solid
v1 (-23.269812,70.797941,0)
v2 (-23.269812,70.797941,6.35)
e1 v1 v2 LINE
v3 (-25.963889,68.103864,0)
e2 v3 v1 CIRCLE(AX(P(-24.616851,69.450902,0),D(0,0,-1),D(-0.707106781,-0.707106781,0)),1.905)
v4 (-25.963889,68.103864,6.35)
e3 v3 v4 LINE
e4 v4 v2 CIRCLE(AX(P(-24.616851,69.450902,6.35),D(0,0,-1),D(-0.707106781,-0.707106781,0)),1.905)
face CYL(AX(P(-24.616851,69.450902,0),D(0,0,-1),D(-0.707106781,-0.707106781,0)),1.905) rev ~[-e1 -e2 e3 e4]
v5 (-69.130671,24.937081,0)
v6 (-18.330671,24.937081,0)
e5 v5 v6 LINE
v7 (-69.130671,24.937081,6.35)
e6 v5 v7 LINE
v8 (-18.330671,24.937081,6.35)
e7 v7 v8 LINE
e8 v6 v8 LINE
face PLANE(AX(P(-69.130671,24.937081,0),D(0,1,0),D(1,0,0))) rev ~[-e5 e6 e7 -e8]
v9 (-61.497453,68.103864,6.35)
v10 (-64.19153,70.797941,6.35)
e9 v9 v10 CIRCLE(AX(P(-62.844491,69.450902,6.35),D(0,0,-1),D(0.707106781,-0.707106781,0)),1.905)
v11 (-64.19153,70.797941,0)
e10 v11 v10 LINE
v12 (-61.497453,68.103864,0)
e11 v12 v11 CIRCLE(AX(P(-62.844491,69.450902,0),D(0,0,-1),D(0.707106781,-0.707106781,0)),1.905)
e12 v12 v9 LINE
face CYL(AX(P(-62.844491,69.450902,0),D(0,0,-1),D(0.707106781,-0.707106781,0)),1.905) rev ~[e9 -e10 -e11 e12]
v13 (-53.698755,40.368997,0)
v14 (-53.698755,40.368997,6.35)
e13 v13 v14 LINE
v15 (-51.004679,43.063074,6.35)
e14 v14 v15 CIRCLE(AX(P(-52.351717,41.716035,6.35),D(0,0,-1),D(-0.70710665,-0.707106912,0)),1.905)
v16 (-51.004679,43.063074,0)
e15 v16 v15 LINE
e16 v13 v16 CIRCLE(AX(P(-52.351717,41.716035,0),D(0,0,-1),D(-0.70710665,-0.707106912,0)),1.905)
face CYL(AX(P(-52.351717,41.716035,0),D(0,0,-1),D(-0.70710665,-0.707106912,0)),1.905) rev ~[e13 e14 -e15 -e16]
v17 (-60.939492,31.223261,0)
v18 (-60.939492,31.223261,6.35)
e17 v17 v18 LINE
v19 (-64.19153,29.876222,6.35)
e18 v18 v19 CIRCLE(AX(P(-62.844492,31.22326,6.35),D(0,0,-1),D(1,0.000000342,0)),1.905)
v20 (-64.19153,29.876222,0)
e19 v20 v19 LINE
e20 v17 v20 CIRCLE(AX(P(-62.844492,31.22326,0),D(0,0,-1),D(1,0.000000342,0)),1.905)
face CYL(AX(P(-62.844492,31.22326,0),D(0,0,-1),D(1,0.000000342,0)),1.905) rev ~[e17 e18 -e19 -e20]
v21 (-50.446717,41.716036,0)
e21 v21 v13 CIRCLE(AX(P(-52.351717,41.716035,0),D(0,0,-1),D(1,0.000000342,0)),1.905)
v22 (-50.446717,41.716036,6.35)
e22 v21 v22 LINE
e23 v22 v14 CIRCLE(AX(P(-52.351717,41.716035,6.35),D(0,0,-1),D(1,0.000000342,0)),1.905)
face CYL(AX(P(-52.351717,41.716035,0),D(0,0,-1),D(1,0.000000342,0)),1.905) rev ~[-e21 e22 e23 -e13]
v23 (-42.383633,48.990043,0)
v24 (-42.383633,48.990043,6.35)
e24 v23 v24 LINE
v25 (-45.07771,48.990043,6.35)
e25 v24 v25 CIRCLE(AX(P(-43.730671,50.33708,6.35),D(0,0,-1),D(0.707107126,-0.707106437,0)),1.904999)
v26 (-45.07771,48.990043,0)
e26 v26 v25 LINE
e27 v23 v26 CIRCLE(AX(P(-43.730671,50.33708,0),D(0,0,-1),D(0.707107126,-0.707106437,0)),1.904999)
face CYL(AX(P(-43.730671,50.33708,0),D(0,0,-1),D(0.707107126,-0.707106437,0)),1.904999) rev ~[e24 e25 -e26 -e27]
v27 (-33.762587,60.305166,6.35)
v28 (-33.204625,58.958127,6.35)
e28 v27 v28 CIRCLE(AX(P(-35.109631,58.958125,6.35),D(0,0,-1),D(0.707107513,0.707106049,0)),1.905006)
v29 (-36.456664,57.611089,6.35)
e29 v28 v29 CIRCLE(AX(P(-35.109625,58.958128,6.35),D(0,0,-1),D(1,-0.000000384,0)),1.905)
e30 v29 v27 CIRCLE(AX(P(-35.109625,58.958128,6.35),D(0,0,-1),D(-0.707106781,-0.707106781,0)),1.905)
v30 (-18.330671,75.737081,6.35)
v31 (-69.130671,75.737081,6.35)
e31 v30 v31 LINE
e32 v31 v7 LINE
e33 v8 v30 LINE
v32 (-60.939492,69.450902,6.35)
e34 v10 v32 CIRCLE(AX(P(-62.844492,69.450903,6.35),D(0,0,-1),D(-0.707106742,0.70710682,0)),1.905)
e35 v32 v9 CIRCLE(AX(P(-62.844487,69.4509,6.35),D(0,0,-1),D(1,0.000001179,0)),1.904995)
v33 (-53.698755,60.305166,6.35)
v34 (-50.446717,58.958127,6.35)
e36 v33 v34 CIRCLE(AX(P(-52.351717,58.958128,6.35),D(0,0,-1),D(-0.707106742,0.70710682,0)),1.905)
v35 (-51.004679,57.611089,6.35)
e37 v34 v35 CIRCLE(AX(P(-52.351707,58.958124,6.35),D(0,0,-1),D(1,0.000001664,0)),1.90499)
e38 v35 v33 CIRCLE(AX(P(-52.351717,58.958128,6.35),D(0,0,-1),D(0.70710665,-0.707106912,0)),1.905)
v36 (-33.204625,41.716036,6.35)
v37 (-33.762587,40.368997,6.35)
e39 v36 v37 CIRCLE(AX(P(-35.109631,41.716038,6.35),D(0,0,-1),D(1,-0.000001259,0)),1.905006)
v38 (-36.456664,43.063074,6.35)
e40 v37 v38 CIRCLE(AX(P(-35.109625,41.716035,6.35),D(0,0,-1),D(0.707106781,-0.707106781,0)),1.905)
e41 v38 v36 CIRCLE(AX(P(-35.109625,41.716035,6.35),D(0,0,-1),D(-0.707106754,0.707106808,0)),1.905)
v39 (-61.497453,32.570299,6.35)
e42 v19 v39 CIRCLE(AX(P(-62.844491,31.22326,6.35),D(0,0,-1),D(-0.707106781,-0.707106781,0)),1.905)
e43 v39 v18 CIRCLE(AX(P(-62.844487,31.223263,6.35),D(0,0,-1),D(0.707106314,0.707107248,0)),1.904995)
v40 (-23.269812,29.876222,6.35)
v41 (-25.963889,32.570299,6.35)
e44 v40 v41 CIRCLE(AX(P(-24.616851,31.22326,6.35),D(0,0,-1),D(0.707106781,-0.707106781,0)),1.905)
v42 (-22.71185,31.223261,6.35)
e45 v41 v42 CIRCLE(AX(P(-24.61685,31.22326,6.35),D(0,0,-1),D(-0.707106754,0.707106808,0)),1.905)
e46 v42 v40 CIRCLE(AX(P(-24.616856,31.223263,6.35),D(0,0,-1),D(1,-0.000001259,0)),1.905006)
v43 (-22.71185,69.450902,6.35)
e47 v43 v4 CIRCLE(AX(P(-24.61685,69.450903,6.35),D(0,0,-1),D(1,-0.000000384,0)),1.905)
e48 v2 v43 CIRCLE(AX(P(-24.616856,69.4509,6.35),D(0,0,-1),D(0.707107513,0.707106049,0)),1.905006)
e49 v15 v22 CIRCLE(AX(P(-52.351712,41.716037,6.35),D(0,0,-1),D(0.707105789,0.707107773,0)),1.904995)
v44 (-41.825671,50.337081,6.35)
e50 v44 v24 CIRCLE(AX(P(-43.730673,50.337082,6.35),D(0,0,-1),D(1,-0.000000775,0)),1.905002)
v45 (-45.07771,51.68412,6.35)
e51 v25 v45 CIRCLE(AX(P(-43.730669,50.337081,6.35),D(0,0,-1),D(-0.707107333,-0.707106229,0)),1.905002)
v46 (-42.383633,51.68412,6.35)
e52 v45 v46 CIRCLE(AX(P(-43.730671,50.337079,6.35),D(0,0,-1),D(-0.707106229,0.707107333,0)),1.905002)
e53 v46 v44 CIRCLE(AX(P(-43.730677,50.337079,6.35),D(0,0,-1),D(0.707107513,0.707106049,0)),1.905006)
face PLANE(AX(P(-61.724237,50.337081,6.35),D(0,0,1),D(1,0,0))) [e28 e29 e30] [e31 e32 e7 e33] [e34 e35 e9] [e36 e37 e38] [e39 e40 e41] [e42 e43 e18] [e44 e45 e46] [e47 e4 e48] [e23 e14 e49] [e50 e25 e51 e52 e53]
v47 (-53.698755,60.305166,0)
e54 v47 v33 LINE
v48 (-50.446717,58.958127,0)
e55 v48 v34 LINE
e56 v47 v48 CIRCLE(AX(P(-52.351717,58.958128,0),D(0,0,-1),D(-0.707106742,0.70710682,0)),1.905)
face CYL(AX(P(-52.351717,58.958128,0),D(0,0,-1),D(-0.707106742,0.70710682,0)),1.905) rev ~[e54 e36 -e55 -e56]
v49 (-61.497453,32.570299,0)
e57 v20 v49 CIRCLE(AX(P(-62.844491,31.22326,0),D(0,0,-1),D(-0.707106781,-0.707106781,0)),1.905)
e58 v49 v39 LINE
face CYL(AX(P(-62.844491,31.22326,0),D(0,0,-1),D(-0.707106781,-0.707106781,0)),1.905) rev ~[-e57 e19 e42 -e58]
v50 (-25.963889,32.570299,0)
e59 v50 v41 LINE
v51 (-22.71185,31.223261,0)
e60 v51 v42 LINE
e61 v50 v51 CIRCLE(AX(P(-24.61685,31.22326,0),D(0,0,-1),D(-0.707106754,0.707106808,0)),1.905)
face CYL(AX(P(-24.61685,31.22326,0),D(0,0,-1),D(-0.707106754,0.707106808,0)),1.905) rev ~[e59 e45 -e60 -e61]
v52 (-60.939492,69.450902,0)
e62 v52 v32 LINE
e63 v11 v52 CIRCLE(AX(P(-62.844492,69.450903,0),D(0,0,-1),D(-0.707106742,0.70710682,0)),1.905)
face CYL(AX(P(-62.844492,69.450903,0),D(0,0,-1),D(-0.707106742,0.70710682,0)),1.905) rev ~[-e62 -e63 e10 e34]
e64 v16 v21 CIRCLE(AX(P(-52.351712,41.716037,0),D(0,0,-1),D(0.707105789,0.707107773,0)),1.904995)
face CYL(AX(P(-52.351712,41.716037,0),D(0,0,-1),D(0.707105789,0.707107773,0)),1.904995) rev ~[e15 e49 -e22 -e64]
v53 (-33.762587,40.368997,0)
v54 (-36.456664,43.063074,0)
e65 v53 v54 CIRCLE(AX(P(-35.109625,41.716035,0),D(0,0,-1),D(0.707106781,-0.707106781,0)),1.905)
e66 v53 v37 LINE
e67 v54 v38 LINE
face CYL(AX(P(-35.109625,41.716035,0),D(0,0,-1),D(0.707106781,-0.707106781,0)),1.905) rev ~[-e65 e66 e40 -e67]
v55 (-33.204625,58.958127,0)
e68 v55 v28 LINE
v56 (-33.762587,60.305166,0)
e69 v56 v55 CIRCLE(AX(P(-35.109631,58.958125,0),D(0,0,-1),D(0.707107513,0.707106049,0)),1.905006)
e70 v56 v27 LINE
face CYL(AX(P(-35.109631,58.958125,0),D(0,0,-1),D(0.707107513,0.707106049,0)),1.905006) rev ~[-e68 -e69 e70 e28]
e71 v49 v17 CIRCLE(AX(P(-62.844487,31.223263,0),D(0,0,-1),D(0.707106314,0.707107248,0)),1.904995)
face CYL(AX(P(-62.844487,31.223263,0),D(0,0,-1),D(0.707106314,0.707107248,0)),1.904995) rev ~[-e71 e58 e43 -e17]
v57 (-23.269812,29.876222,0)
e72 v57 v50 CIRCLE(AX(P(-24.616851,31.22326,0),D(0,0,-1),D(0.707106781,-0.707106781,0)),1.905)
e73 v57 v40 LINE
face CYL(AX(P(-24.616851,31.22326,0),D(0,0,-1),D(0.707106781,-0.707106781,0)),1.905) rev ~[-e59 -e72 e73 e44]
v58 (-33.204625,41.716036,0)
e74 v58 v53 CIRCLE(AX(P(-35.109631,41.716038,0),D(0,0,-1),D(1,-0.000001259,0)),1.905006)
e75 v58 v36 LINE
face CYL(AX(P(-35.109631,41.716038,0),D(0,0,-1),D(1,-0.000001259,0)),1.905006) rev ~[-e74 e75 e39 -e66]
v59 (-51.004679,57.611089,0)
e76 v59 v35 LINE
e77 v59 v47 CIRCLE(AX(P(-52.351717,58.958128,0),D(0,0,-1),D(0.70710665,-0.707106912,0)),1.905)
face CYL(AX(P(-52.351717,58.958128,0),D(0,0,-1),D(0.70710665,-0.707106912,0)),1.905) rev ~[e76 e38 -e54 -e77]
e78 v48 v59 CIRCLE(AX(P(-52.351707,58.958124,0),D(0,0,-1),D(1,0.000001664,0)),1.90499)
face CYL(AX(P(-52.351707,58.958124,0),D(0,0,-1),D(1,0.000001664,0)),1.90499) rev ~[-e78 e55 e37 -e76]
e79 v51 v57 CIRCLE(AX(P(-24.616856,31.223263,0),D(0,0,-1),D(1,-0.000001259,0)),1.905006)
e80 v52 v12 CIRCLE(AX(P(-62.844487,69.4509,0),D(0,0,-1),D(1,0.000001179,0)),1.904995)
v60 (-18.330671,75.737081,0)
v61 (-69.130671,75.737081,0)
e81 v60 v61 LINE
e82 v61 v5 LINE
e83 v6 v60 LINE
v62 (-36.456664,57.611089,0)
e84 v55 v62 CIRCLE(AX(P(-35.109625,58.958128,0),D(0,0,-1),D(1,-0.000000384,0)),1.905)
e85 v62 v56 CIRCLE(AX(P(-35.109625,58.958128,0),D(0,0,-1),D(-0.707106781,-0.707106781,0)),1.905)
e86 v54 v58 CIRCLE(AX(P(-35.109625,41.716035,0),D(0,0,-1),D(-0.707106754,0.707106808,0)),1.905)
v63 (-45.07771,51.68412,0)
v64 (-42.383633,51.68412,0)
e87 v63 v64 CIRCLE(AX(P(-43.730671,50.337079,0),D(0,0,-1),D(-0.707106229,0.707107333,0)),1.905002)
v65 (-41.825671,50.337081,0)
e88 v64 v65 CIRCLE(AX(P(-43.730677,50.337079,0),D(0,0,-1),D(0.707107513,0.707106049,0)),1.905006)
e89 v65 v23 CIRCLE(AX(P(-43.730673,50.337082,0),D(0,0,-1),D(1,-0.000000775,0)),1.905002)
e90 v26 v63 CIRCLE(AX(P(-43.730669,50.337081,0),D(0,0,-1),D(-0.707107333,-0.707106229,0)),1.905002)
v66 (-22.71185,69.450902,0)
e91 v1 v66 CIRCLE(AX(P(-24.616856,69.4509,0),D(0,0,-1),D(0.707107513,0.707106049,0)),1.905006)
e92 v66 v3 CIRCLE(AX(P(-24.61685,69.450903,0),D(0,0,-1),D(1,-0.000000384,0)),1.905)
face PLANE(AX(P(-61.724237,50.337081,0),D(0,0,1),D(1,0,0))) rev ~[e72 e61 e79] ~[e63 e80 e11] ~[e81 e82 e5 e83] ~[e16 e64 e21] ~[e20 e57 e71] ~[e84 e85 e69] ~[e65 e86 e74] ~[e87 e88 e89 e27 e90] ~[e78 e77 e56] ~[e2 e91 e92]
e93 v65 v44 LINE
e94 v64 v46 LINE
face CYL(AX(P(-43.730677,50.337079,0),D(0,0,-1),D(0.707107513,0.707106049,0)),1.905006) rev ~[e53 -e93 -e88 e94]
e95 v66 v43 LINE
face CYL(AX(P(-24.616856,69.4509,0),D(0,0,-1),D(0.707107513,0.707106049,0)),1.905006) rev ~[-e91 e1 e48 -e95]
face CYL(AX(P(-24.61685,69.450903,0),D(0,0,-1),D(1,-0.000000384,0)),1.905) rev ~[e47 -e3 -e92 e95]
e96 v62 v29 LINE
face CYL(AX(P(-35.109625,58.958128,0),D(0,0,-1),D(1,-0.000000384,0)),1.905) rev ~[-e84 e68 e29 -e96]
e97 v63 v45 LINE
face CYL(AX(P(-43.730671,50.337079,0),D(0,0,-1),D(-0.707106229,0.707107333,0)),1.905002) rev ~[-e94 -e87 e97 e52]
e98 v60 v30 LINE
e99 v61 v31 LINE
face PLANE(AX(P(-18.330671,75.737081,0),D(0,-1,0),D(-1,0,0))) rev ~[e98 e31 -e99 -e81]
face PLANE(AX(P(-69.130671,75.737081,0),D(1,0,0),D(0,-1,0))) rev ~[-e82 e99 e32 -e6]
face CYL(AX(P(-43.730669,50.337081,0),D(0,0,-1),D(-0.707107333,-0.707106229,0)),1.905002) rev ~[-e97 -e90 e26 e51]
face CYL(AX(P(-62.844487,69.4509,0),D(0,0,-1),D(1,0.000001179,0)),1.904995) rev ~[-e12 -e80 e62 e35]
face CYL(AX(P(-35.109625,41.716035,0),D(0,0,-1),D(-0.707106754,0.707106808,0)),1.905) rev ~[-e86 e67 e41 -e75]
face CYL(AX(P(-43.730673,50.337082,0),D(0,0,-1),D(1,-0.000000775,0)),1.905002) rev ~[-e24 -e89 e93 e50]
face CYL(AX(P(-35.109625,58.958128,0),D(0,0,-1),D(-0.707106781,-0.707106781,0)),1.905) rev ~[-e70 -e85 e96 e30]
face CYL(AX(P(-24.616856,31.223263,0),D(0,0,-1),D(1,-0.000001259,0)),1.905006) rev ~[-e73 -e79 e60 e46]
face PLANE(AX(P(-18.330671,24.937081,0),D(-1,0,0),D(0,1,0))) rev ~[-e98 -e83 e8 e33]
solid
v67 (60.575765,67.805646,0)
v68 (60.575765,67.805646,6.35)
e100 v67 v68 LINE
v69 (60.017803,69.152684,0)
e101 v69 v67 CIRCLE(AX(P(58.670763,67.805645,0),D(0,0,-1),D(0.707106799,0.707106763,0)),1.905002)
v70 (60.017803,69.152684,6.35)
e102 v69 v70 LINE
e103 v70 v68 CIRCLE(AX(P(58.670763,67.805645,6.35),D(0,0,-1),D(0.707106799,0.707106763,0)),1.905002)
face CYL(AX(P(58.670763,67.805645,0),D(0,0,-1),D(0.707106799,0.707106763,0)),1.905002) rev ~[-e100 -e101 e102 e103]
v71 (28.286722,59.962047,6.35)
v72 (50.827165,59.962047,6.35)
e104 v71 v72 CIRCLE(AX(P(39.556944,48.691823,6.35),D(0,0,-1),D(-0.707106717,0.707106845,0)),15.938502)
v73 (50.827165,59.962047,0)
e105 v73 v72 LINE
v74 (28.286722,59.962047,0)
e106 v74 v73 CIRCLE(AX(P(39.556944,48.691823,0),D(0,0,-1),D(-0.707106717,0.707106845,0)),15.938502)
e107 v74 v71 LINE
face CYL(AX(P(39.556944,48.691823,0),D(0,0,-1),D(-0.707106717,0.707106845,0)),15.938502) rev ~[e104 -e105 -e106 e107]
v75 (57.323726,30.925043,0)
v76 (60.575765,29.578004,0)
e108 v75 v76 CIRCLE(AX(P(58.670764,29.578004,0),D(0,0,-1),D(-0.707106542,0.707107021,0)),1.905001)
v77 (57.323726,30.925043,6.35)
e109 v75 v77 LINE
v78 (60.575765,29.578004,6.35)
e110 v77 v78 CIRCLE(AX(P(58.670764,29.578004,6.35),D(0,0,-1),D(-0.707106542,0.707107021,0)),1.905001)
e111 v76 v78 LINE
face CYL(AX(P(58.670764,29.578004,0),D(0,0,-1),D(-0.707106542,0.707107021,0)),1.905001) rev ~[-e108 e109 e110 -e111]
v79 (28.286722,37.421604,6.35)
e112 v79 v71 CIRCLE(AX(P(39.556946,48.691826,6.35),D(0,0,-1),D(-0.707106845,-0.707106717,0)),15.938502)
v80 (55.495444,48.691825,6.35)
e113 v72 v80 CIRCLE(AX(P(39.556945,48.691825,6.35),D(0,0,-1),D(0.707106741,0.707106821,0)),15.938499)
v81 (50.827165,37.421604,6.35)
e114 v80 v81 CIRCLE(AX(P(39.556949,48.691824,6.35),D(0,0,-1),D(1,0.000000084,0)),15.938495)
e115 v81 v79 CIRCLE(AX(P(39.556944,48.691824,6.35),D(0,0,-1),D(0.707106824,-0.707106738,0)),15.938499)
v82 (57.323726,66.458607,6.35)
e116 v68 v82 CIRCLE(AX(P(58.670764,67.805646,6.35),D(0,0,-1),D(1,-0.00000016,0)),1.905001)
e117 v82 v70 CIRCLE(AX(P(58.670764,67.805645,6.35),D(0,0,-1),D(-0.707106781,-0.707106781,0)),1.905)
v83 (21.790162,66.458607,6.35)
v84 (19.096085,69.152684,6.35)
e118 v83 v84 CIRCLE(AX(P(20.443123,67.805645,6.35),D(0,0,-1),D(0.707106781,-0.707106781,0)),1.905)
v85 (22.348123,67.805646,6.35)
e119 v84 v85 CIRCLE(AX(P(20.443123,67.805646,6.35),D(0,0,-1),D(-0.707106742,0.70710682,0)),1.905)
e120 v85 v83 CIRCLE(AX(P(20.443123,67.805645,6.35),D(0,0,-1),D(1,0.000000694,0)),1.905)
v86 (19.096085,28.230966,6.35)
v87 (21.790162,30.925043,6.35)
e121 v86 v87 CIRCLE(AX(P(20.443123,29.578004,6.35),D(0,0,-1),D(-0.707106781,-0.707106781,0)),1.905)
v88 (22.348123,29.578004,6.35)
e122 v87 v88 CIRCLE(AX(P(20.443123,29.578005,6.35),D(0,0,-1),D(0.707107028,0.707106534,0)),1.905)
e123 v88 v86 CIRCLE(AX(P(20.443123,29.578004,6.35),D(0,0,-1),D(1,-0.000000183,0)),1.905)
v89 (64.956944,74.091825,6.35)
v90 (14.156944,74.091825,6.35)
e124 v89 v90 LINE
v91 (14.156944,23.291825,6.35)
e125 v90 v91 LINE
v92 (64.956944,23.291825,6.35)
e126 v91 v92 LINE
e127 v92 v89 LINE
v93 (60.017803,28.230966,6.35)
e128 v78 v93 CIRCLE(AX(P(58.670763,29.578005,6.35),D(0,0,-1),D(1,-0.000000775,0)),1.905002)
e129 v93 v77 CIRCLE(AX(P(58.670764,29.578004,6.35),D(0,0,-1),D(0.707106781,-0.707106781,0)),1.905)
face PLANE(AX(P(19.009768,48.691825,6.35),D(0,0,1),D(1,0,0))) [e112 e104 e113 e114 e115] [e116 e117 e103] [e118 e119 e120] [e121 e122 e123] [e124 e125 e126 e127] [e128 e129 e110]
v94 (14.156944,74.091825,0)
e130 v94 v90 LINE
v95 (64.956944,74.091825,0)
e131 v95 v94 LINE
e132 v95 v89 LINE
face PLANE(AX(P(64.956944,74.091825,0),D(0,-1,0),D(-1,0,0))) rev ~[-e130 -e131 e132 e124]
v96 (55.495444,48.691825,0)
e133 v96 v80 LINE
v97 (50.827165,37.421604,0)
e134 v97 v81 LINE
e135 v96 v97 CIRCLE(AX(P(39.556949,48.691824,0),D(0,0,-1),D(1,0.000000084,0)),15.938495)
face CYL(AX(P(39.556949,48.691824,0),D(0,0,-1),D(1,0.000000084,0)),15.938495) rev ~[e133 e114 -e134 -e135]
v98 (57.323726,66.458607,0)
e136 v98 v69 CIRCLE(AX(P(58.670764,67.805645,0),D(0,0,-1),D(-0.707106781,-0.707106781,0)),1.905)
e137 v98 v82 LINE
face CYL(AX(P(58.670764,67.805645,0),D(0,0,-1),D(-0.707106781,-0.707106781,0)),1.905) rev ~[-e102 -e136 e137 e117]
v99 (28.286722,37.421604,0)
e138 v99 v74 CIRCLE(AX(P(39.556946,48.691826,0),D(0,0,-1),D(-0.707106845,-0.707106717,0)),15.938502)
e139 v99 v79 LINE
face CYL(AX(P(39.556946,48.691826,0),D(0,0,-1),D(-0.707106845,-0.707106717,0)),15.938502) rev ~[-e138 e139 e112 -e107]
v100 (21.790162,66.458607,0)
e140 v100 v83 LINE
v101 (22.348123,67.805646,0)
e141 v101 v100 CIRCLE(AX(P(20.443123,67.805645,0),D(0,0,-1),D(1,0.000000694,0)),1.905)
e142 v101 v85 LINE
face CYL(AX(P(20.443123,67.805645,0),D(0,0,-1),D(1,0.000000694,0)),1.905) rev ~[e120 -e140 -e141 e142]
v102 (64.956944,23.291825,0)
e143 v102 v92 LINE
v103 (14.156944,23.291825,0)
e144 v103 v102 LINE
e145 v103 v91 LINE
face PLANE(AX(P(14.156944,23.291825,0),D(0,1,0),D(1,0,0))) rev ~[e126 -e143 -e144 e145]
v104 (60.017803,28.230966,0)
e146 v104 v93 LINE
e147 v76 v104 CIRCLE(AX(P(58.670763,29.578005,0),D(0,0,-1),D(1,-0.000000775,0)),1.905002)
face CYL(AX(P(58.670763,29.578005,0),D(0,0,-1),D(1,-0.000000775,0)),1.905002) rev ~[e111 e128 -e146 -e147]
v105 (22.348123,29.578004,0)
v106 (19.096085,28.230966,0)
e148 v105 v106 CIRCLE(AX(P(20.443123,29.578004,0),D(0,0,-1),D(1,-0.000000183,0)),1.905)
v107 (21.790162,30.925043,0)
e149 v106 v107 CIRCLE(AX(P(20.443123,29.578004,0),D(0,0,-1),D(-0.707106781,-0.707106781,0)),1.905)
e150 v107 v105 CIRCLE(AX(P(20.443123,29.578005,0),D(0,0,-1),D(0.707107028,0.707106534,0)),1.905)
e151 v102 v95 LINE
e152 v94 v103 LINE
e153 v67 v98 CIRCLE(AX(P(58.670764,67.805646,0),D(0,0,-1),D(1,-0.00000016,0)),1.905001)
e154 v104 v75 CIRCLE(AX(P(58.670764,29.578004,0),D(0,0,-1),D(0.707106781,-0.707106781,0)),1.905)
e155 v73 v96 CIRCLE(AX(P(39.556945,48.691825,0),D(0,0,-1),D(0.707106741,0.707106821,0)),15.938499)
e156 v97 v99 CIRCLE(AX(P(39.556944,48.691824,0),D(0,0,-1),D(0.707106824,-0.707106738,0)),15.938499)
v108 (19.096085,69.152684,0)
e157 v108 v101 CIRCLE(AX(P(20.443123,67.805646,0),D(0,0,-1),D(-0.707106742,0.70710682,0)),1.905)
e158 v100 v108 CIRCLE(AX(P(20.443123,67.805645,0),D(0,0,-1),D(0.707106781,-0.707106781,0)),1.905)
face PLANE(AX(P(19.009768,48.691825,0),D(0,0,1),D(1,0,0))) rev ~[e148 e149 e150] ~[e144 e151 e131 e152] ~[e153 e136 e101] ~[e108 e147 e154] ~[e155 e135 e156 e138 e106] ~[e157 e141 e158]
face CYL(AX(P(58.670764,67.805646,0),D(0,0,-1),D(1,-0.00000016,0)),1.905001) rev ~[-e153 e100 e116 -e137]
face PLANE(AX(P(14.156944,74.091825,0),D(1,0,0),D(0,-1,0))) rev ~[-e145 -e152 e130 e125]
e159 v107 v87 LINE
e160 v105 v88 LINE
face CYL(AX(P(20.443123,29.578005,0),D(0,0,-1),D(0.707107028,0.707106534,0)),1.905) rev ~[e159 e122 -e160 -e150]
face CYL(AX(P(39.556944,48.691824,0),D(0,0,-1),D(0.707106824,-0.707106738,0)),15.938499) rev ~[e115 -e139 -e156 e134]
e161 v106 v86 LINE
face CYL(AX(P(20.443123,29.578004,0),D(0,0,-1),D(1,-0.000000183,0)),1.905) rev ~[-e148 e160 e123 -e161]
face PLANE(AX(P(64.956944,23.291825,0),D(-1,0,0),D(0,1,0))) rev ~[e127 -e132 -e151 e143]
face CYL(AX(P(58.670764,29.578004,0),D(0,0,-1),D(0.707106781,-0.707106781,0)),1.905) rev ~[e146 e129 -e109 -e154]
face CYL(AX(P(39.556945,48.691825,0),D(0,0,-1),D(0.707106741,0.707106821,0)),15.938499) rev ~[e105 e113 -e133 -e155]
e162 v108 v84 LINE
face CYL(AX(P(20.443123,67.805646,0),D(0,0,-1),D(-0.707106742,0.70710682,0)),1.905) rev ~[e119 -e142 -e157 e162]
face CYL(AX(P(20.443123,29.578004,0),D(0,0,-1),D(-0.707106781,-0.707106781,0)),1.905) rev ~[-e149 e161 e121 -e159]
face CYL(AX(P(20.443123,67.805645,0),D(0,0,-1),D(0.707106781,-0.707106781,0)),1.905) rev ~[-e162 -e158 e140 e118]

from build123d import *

# Parameters (mm, degrees)
F1_DEPTH = 6.35
F3_DEPTH = 6.35


with BuildPart() as f1:
    # F0 (on Top) → F1 (new body)
    with BuildSketch(Plane.XY):
        with BuildLine():
            Line((-64.19153, 70.797941), (-69.130671, 75.737081))
            Line((-69.130671, 75.737081), (-69.130671, 24.937081))
            Line((-69.130671, 24.937081), (-64.19153, 29.876222))
            ThreePointArc((-64.19153, 29.876222), (-64.19153, 32.570299), (-61.497453, 32.570299))
            Line((-61.497453, 32.570299), (-53.698755, 40.368997))
            ThreePointArc((-53.698755, 40.368997), (-53.698755, 43.063074), (-51.004679, 43.063074))
            Line((-51.004679, 43.063074), (-45.07771, 48.990043))
            ThreePointArc((-45.07771, 48.990043), (-45.635671, 50.337081), (-45.07771, 51.68412))
            Line((-45.07771, 51.68412), (-51.004679, 57.611089))
            ThreePointArc((-51.004679, 57.611089), (-53.698755, 57.611089), (-53.698755, 60.305166))
            Line((-53.698755, 60.305166), (-61.497453, 68.103864))
            ThreePointArc((-61.497453, 68.103864), (-64.19153, 68.103864), (-64.19153, 70.797941))
        make_face()
        with BuildLine():
            Line((-18.330671, 75.737081), (-69.130671, 75.737081))
            Line((-69.130671, 75.737081), (-64.19153, 70.797941))
            ThreePointArc((-64.19153, 70.797941), (-62.11548, 71.210893), (-60.939492, 69.450902))
            ThreePointArc((-60.939492, 69.450902), (-61.084501, 68.72189), (-61.497453, 68.103864))
            Line((-61.497453, 68.103864), (-53.698755, 60.305166))
            ThreePointArc((-53.698755, 60.305166), (-51.622705, 60.718118), (-50.446717, 58.958127))
            ThreePointArc((-50.446717, 58.958127), (-50.591726, 58.229115), (-51.004679, 57.611089))
            Line((-51.004679, 57.611089), (-45.07771, 51.68412))
            ThreePointArc((-45.07771, 51.68412), (-43.730671, 52.242081), (-42.383633, 51.68412))
            Line((-42.383633, 51.68412), (-36.456664, 57.611089))
            ThreePointArc((-36.456664, 57.611089), (-36.456664, 60.305166), (-33.762587, 60.305166))
            Line((-33.762587, 60.305166), (-25.963889, 68.103864))
            ThreePointArc((-25.963889, 68.103864), (-25.963889, 70.797941), (-23.269812, 70.797941))
            Line((-23.269812, 70.797941), (-18.330671, 75.737081))
        make_face()
        with BuildLine():
            Line((-18.330671, 24.937081), (-18.330671, 75.737081))
            Line((-18.330671, 75.737081), (-23.269812, 70.797941))
            ThreePointArc((-23.269812, 70.797941), (-22.85686, 70.179914), (-22.71185, 69.450902))
            ThreePointArc((-22.71185, 69.450902), (-23.887838, 67.690912), (-25.963889, 68.103864))
            Line((-25.963889, 68.103864), (-33.762587, 60.305166))
            ThreePointArc((-33.762587, 60.305166), (-33.349635, 59.687139), (-33.204625, 58.958127))
            ThreePointArc((-33.204625, 58.958127), (-34.380613, 57.198137), (-36.456664, 57.611089))
            Line((-36.456664, 57.611089), (-42.383633, 51.68412))
            ThreePointArc((-42.383633, 51.68412), (-41.970681, 51.066093), (-41.825671, 50.337081))
            ThreePointArc((-41.825671, 50.337081), (-41.970681, 49.608069), (-42.383633, 48.990043))
            Line((-42.383633, 48.990043), (-36.456664, 43.063074))
            ThreePointArc((-36.456664, 43.063074), (-34.380613, 43.476026), (-33.204625, 41.716036))
            ThreePointArc((-33.204625, 41.716036), (-33.349635, 40.987024), (-33.762587, 40.368997))
            Line((-33.762587, 40.368997), (-25.963889, 32.570299))
            ThreePointArc((-25.963889, 32.570299), (-23.887838, 32.983251), (-22.71185, 31.223261))
            ThreePointArc((-22.71185, 31.223261), (-22.85686, 30.494249), (-23.269812, 29.876222))
            Line((-23.269812, 29.876222), (-18.330671, 24.937081))
        make_face()
        with BuildLine():
            Line((-64.19153, 29.876222), (-69.130671, 24.937081))
            Line((-69.130671, 24.937081), (-18.330671, 24.937081))
            Line((-18.330671, 24.937081), (-23.269812, 29.876222))
            ThreePointArc((-23.269812, 29.876222), (-25.963889, 29.876222), (-25.963889, 32.570299))
            Line((-25.963889, 32.570299), (-33.762587, 40.368997))
            ThreePointArc((-33.762587, 40.368997), (-36.456664, 40.368997), (-36.456664, 43.063074))
            Line((-36.456664, 43.063074), (-42.383633, 48.990043))
            ThreePointArc((-42.383633, 48.990043), (-43.730671, 48.432081), (-45.07771, 48.990043))
            Line((-45.07771, 48.990043), (-51.004679, 43.063074))
            ThreePointArc((-51.004679, 43.063074), (-50.591726, 42.445047), (-50.446717, 41.716036))
            ThreePointArc((-50.446717, 41.716036), (-51.622705, 39.956045), (-53.698755, 40.368997))
            Line((-53.698755, 40.368997), (-61.497453, 32.570299))
            ThreePointArc((-61.497453, 32.570299), (-61.084501, 31.952273), (-60.939492, 31.223261))
            ThreePointArc((-60.939492, 31.223261), (-62.11548, 29.46327), (-64.19153, 29.876222))
        make_face()
    extrude(amount=F1_DEPTH)


with BuildPart() as f3:
    # F2 (on Top) → F3 (new body)
    with BuildSketch(Plane.XY):
        with BuildLine():
            Line((19.096085, 69.152684), (14.156944, 74.091825))
            Line((14.156944, 74.091825), (14.156944, 23.291825))
            Line((14.156944, 23.291825), (19.096085, 28.230966))
            ThreePointArc((19.096085, 28.230966), (19.096085, 30.925043), (21.790162, 30.925043))
            Line((21.790162, 30.925043), (28.286722, 37.421604))
            ThreePointArc((28.286722, 37.421604), (23.618444, 48.691825), (28.286722, 59.962047))
            Line((28.286722, 59.962047), (21.790162, 66.458607))
            ThreePointArc((21.790162, 66.458607), (19.096085, 66.458607), (19.096085, 69.152684))
        make_face()
        with BuildLine():
            Line((64.956944, 74.091825), (14.156944, 74.091825))
            Line((14.156944, 74.091825), (19.096085, 69.152684))
            ThreePointArc((19.096085, 69.152684), (21.172135, 69.565636), (22.348123, 67.805646))
            ThreePointArc((22.348123, 67.805646), (22.203114, 67.076634), (21.790162, 66.458607))
            Line((21.790162, 66.458607), (28.286722, 59.962047))
            ThreePointArc((28.286722, 59.962047), (39.556944, 64.630325), (50.827165, 59.962047))
            Line((50.827165, 59.962047), (57.323726, 66.458607))
            ThreePointArc((57.323726, 66.458607), (57.323726, 69.152684), (60.017803, 69.152684))
            Line((60.017803, 69.152684), (64.956944, 74.091825))
        make_face()
        with BuildLine():
            Line((64.956944, 23.291825), (64.956944, 74.091825))
            Line((64.956944, 74.091825), (60.017803, 69.152684))
            ThreePointArc((60.017803, 69.152684), (60.430755, 68.534658), (60.575765, 67.805646))
            ThreePointArc((60.575765, 67.805646), (59.399776, 66.045655), (57.323726, 66.458607))
            Line((57.323726, 66.458607), (50.827165, 59.962047))
            ThreePointArc((50.827165, 59.962047), (54.282198, 54.791225), (55.495444, 48.691825))
            ThreePointArc((55.495444, 48.691825), (54.282198, 42.592425), (50.827165, 37.421604))
            Line((50.827165, 37.421604), (57.323726, 30.925043))
            ThreePointArc((57.323726, 30.925043), (59.399776, 31.337995), (60.575765, 29.578004))
            ThreePointArc((60.575765, 29.578004), (60.430755, 28.848992), (60.017803, 28.230966))
            Line((60.017803, 28.230966), (64.956944, 23.291825))
        make_face()
        with BuildLine():
            Line((19.096085, 28.230966), (14.156944, 23.291825))
            Line((14.156944, 23.291825), (64.956944, 23.291825))
            Line((64.956944, 23.291825), (60.017803, 28.230966))
            ThreePointArc((60.017803, 28.230966), (57.323726, 28.230966), (57.323726, 30.925043))
            Line((57.323726, 30.925043), (50.827165, 37.421604))
            ThreePointArc((50.827165, 37.421604), (39.556944, 32.753325), (28.286722, 37.421604))
            Line((28.286722, 37.421604), (21.790162, 30.925043))
            ThreePointArc((21.790162, 30.925043), (22.203114, 30.307016), (22.348123, 29.578004))
            ThreePointArc((22.348123, 29.578004), (21.172135, 27.818014), (19.096085, 28.230966))
        make_face()
    extrude(amount=F3_DEPTH)


solid = Compound([f1.part, f3.part])
